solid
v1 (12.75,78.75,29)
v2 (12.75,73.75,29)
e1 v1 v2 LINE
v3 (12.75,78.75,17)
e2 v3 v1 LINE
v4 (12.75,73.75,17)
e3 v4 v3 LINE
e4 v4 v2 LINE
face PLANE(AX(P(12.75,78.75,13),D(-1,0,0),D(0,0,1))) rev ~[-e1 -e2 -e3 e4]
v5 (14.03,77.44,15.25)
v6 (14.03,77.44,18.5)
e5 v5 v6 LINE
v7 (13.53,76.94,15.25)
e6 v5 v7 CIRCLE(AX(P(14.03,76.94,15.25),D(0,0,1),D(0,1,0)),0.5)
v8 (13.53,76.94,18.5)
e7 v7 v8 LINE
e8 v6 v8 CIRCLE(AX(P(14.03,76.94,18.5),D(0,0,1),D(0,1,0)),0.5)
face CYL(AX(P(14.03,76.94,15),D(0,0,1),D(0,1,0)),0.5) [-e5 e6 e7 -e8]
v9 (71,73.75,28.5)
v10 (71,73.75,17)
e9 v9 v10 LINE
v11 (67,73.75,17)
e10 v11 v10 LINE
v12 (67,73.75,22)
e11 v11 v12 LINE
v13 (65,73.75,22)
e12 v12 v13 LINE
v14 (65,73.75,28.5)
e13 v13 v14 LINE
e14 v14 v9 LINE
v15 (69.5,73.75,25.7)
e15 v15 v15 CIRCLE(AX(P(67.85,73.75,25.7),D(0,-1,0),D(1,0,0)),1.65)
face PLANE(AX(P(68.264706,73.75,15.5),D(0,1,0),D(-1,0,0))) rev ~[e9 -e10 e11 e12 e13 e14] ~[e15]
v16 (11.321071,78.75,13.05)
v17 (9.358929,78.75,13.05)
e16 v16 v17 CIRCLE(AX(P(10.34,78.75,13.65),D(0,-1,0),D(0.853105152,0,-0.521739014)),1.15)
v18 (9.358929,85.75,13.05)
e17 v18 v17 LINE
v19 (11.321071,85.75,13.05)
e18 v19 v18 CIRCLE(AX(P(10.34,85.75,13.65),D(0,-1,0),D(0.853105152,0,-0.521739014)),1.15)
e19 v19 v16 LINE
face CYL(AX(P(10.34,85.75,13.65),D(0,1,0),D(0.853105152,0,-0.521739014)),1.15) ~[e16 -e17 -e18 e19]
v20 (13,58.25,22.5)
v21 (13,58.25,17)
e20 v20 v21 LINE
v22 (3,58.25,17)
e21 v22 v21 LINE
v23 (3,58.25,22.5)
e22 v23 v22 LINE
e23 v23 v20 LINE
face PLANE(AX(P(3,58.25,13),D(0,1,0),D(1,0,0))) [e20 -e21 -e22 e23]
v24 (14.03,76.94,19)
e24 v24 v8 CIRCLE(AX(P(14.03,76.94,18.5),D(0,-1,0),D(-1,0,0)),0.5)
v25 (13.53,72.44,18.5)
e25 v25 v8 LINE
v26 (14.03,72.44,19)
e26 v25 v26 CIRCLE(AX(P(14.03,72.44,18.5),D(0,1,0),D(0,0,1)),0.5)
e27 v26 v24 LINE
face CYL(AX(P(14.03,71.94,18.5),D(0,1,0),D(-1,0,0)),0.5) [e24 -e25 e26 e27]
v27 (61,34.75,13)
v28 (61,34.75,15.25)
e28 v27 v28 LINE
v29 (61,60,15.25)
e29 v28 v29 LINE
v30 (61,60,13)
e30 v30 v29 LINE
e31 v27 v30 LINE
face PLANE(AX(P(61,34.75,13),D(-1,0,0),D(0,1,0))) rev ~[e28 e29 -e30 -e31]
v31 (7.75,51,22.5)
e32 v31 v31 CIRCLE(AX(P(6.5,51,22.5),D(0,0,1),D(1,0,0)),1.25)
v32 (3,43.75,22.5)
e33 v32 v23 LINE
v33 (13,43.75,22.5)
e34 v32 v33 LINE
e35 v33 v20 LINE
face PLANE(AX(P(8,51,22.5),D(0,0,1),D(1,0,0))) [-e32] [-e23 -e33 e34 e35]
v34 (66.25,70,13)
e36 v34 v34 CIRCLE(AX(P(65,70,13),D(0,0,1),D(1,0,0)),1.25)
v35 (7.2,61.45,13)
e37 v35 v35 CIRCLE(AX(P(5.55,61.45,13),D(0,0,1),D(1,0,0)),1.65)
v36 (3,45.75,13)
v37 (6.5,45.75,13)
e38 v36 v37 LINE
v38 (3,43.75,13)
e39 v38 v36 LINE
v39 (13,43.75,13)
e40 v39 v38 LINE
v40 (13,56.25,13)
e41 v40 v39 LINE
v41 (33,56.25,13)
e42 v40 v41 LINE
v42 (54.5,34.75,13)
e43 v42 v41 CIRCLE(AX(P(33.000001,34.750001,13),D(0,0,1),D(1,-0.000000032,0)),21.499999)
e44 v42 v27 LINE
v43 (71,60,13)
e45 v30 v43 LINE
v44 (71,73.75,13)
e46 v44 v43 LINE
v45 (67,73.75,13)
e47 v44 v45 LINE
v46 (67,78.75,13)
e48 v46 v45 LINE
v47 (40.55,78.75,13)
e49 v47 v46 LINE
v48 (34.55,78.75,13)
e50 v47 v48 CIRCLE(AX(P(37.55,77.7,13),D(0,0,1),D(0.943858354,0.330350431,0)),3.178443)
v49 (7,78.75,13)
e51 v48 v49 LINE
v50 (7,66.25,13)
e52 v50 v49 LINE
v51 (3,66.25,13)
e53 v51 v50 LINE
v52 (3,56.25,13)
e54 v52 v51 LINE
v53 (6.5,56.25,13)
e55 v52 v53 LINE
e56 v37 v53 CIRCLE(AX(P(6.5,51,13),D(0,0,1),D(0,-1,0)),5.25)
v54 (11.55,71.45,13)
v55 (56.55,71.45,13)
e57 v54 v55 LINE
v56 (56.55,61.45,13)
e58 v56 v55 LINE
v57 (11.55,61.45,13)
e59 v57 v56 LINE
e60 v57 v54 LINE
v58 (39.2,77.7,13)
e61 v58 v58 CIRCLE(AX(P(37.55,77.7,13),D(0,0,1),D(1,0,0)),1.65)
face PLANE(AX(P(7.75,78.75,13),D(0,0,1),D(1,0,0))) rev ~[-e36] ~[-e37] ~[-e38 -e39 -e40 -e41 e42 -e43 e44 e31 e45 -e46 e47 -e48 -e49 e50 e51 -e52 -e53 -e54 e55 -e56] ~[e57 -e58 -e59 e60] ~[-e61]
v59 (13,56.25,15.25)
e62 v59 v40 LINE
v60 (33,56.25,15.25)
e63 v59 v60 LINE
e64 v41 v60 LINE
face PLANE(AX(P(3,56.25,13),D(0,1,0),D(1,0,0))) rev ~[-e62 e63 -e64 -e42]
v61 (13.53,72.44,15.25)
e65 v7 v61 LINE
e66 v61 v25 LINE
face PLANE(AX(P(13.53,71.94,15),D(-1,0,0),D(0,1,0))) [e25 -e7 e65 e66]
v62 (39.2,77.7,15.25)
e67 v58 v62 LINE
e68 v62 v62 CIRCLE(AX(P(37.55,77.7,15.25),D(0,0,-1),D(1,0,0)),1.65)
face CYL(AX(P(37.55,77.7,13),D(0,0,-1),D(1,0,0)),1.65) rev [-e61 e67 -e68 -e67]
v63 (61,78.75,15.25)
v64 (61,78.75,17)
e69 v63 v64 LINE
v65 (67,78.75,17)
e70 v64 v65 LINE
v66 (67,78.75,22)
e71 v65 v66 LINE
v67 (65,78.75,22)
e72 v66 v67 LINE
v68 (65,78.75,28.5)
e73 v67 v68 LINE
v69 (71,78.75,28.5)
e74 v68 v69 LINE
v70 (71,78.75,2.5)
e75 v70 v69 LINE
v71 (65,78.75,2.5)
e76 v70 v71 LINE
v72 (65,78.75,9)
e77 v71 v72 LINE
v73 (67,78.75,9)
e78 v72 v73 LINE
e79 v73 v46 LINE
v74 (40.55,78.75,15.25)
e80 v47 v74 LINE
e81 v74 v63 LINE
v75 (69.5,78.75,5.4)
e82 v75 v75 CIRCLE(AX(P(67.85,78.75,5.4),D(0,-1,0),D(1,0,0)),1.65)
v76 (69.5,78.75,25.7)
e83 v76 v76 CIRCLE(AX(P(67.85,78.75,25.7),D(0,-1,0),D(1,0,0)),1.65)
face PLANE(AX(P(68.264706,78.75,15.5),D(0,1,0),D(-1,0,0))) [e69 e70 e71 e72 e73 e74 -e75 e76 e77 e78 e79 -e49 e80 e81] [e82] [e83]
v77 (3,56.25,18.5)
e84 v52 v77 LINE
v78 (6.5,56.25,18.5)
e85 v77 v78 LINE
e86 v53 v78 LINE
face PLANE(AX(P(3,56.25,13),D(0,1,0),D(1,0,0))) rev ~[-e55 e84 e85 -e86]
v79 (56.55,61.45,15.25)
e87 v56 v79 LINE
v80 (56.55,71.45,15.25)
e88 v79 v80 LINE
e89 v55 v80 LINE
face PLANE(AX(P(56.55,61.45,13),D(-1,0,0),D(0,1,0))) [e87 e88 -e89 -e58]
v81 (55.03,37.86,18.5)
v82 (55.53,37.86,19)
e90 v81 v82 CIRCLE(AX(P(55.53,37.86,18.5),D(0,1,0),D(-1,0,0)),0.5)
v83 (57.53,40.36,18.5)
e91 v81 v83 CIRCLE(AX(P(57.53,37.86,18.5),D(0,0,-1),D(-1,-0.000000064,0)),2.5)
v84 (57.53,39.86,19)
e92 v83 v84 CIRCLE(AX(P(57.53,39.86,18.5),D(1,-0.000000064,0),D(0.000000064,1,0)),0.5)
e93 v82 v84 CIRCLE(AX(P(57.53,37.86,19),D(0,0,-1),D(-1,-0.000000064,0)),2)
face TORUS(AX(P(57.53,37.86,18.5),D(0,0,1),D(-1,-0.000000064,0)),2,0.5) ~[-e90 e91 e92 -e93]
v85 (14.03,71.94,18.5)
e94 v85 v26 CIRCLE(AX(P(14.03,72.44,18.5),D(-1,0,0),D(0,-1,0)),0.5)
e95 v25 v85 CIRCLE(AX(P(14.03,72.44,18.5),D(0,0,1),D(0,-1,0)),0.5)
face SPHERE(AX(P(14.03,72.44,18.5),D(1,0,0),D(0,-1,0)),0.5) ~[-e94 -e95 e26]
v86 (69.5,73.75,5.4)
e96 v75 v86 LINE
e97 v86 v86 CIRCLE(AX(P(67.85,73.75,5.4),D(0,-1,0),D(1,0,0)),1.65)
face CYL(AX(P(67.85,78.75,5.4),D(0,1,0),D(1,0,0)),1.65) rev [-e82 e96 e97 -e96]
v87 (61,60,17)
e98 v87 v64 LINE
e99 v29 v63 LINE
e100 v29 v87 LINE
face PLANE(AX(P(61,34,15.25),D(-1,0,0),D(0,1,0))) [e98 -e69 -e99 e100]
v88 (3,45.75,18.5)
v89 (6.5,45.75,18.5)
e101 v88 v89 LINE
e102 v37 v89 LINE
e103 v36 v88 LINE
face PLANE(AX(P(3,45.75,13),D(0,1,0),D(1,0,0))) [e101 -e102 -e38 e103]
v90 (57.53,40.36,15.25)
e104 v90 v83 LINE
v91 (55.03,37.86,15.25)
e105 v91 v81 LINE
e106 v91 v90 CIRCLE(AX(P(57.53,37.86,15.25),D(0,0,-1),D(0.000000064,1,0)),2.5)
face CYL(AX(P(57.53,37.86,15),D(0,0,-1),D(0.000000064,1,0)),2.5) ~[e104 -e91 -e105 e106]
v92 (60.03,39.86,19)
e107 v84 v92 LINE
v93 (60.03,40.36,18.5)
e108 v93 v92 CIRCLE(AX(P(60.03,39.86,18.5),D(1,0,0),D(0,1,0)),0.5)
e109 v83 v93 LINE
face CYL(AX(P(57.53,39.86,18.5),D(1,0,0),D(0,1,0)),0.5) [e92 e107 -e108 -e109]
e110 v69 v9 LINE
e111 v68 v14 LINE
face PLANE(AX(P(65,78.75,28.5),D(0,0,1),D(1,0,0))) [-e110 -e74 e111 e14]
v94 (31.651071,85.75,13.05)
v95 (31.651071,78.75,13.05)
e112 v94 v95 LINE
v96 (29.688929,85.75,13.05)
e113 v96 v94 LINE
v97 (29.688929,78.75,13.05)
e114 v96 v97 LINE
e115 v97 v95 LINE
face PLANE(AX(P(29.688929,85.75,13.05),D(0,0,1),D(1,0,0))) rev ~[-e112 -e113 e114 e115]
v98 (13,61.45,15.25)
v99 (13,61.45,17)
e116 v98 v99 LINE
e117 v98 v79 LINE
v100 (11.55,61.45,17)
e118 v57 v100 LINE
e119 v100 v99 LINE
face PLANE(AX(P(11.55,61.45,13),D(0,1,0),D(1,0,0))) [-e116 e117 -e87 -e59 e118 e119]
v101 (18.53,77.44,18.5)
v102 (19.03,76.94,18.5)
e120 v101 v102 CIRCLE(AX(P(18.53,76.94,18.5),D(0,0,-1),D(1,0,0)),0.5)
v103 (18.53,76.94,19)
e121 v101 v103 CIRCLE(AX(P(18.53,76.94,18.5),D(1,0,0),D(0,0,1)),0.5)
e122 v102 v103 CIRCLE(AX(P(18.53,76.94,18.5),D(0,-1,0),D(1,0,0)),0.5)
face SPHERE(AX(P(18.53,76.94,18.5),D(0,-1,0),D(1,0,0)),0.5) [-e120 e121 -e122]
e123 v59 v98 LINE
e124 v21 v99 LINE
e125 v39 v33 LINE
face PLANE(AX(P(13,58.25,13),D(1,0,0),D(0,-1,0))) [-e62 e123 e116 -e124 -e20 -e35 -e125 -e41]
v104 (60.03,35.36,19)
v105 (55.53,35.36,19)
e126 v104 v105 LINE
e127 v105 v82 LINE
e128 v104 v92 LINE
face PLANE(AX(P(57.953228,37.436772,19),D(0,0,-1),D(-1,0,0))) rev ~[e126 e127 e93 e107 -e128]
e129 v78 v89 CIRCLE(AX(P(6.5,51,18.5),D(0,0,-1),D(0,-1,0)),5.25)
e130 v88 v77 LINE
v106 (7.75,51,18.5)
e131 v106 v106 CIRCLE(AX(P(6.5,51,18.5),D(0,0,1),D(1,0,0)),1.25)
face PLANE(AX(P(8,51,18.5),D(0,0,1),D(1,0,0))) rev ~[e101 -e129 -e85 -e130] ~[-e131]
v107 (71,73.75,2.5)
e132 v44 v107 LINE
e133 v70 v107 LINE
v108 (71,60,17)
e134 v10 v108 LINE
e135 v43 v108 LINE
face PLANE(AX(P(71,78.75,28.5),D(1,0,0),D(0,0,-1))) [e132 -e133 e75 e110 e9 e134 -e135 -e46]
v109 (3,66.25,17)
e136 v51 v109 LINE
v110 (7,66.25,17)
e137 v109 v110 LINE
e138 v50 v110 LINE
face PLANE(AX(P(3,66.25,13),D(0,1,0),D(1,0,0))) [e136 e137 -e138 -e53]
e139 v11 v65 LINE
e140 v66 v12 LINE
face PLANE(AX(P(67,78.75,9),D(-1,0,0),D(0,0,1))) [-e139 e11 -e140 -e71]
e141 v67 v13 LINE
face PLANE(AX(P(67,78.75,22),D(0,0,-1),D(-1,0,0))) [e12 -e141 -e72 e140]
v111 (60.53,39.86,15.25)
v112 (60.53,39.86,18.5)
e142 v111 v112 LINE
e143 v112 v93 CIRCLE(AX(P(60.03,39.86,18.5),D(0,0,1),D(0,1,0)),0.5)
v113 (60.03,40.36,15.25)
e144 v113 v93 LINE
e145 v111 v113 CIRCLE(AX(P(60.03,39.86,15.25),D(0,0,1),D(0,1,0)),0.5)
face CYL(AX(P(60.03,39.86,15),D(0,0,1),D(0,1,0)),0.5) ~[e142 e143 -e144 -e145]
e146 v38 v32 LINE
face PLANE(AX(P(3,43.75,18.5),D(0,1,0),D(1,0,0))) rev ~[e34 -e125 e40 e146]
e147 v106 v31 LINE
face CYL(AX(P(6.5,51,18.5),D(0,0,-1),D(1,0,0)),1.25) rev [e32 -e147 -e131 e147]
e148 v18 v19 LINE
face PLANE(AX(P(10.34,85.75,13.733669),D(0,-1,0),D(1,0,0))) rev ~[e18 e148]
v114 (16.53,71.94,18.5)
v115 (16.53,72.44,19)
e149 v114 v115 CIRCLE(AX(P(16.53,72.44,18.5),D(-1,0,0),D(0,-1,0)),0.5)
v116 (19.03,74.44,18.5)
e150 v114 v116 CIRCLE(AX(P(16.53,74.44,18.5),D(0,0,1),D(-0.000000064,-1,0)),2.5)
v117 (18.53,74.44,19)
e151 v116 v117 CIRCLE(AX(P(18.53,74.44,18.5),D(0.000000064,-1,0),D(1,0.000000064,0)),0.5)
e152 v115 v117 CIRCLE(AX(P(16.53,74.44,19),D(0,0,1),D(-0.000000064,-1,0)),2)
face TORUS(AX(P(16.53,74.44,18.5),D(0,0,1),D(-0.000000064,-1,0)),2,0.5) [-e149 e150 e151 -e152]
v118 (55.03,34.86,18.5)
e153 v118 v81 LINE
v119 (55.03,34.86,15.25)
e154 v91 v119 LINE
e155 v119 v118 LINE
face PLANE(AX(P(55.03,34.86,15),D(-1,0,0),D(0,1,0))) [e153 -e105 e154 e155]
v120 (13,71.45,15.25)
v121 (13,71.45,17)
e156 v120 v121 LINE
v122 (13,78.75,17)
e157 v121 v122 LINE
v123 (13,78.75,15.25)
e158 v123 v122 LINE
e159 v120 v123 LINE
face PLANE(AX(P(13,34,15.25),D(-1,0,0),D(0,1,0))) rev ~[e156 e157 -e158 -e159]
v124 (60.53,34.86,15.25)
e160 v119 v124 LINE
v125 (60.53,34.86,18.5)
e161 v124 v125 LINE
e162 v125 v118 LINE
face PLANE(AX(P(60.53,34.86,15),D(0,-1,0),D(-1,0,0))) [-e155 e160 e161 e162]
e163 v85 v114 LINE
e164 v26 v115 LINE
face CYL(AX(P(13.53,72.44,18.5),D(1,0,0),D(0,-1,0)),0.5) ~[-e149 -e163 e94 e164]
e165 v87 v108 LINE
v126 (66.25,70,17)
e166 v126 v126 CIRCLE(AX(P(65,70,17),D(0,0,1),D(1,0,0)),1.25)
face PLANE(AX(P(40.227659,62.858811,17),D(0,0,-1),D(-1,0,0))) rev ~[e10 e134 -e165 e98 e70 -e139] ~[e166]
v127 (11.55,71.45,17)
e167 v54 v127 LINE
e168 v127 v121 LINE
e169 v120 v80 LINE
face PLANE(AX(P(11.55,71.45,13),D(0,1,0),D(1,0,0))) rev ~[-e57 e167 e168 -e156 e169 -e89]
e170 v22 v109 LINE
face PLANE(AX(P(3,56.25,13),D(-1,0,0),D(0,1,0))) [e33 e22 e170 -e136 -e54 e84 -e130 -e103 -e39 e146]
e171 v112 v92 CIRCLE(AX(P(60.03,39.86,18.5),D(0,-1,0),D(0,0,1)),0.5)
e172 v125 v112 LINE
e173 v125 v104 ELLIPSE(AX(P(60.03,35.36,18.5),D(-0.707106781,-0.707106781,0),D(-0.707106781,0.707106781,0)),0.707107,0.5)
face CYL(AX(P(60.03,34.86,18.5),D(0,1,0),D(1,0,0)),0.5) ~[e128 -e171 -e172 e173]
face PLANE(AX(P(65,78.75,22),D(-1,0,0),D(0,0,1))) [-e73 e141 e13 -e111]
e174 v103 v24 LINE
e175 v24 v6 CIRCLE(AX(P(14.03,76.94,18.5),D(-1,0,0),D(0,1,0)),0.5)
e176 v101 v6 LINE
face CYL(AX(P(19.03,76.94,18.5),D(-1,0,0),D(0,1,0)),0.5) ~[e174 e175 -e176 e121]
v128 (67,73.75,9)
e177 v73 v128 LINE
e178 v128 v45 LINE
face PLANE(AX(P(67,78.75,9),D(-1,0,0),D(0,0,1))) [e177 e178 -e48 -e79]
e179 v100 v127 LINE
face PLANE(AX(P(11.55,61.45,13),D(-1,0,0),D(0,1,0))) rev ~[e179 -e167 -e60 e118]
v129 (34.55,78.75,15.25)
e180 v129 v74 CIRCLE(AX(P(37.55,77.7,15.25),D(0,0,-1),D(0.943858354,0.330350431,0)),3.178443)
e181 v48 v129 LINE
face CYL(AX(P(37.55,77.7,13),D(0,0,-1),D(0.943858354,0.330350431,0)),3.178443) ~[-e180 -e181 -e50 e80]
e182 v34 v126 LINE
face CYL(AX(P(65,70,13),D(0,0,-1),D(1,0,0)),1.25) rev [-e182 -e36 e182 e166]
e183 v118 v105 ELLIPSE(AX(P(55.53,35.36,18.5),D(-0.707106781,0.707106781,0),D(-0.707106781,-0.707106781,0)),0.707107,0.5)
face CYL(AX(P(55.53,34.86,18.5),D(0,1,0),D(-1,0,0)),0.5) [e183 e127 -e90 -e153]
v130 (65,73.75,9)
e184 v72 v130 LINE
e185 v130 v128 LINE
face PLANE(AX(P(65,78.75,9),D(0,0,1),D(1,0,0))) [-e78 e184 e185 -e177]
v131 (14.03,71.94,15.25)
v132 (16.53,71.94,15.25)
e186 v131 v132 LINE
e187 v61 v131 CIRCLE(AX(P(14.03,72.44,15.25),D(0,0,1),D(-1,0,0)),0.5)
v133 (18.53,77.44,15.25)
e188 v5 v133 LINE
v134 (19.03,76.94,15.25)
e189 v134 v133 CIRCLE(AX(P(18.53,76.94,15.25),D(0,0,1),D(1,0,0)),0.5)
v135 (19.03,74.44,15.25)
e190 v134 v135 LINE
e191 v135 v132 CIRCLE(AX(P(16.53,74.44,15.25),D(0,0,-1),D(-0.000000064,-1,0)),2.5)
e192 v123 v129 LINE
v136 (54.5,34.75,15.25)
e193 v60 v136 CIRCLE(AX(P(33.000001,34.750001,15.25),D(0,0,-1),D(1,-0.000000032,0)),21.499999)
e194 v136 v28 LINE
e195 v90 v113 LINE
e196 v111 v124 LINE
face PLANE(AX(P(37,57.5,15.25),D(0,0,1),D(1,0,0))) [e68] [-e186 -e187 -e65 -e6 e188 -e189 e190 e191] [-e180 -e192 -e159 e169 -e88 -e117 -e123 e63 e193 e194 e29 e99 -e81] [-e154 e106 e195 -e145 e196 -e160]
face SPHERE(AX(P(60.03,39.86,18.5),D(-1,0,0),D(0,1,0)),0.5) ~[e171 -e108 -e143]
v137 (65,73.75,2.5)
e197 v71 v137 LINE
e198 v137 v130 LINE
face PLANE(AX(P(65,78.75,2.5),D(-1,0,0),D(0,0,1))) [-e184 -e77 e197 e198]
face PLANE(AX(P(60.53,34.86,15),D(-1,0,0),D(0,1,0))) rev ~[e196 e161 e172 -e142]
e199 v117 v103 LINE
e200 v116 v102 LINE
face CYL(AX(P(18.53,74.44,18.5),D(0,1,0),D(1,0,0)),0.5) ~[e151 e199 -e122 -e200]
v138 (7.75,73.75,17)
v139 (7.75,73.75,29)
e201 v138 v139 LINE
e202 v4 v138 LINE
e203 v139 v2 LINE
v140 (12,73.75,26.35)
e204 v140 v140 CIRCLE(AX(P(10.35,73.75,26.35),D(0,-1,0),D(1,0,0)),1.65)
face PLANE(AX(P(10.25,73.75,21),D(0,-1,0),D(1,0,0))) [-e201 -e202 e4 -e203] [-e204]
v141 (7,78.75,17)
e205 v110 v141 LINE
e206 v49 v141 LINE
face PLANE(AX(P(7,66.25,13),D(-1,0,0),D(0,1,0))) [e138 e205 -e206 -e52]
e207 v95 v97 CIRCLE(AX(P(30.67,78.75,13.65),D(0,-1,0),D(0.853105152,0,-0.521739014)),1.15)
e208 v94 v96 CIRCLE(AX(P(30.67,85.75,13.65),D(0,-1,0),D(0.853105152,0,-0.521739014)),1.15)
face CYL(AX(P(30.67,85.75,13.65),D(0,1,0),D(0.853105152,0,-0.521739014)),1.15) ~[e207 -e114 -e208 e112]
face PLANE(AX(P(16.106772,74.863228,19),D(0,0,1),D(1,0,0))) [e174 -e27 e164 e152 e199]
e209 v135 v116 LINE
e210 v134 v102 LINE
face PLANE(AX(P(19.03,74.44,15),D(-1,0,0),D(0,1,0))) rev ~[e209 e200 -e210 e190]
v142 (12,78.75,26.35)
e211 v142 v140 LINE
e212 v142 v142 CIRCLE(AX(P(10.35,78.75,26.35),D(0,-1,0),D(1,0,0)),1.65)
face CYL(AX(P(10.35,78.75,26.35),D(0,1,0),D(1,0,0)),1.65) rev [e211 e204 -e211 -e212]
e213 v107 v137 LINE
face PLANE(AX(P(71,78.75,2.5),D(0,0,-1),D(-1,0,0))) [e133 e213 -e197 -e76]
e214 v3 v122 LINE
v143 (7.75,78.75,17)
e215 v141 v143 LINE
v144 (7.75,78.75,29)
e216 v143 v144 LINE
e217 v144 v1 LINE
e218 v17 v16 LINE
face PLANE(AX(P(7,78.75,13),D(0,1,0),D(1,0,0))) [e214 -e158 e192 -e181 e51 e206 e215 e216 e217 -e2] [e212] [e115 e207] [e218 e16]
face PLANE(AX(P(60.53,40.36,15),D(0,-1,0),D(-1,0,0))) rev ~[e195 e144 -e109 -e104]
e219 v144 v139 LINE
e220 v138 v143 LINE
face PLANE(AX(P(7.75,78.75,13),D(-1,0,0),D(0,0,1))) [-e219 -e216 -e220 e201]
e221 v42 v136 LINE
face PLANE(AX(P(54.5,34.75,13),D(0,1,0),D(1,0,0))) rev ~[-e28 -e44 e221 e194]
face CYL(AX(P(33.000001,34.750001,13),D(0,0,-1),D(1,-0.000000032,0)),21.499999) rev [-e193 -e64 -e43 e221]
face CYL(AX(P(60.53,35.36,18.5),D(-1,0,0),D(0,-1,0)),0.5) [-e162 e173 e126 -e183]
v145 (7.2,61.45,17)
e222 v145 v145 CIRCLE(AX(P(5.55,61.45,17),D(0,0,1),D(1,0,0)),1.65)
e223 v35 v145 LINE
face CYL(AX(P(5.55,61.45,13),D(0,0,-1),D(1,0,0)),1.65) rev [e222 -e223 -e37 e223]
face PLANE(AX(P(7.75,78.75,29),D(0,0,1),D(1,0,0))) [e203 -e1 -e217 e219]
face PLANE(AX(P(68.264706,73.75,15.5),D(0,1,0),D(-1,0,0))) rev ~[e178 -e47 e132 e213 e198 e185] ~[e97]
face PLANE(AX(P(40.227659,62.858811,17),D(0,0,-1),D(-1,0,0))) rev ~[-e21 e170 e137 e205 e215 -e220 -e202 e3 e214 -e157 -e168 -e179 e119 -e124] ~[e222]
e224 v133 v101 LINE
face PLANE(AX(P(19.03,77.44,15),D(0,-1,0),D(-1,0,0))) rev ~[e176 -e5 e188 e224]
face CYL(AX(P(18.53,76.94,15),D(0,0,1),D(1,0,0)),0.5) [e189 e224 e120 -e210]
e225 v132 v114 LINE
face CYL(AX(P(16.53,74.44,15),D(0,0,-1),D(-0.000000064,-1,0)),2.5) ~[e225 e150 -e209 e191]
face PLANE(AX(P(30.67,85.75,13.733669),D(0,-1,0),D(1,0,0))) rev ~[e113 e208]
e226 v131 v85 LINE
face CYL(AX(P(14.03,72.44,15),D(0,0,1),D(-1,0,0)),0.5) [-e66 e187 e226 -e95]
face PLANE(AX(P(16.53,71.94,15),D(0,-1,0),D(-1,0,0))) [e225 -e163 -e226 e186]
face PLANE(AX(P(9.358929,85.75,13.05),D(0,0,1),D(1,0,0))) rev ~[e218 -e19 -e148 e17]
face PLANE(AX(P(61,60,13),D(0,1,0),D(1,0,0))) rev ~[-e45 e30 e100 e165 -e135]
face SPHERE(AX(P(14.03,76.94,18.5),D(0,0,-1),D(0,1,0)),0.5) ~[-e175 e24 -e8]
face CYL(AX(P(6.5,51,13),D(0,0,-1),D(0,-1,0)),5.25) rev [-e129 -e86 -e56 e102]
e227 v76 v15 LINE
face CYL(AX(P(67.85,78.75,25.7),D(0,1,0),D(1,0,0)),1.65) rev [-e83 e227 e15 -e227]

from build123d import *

# Parameters (mm, degrees)
SKETCH021_R      = 1.65
EXTRUDE021_DEPTH = 5
EXTRUDE001_DEPTH = 4
FILLET003_R      = 0.5
BOX005_W         = 48
BOX005_H         = 47
BOX005_DEPTH     = 10
EXTRUDE037_DEPTH = 6
SKETCH038_W      = 10
SKETCH038_H      = 14.5
SKETCH038_R      = 1.25
EXTRUDE038_DEPTH = 4
SKETCH039_W      = 5
SKETCH039_H      = 16
SKETCH039_R      = 1.65
EXTRUDE039_DEPTH = 5
EXTRUDE040_DEPTH = 7
SKETCH020_R      = 1.65
SKETCH020_R_2    = 1.25
SKETCH020_W      = 45
SKETCH020_H      = 10
EXTRUDE036_DEPTH = 4


with BuildPart() as gpshold:
    # Sketch021 → Extrude021 (new body)
    with BuildSketch(Plane.XZ):
        Polygon((65, 28.5), (71, 28.5), (71, 2.5), (65, 2.5), (65, 9), (67, 9), (67, 22), (65, 22), align=None)
        with Locations((67.85, 25.7)):
            Circle(SKETCH021_R, mode=Mode.SUBTRACT)
        with Locations((67.85, 5.4)):
            Circle(SKETCH021_R, mode=Mode.SUBTRACT)
    extrude(amount=EXTRUDE021_DEPTH)


with BuildPart() as gpshold_1:
    # Extrude021 placement: moved
    add(gpshold.part.moved(Location((0, 78.75, 0))))


with BuildPart() as ipsholdbottomindone:
    # Sketch001 → Extrude001 (new body)
    with BuildSketch(Plane.XY):
        with BuildLine():
            Line((19.03, 74.44), (19.03, 77.44))
            Line((19.03, 77.44), (13.53, 77.44))
            Line((13.53, 71.94), (13.53, 77.44))
            Line((16.53, 71.94), (13.53, 71.94))
            ThreePointArc((16.53, 71.94), (18.297767, 72.672233), (19.03, 74.44))
        make_face()
        with BuildLine():
            Line((60.53, 34.86), (55.03, 34.86))
            Line((55.03, 34.86), (55.03, 37.86))
            ThreePointArc((57.53, 40.36), (55.762233, 39.627767), (55.03, 37.86))
            Line((60.53, 40.36), (57.53, 40.36))
            Line((60.53, 34.86), (60.53, 40.36))
        make_face()
    extrude(amount=EXTRUDE001_DEPTH)


with BuildPart() as ipsholdbottomindone_1:
    # Extrude001 placement: moved
    add(ipsholdbottomindone.part.moved(Location((0, 0, 2))))

    # Fillet003
    fillet003_edges = [ipsholdbottomindone_1.edges().sort_by_distance(p)[0] for p in [
        (57.78, 34.86, 6),
        (55.03, 36.36, 6),
        (55.762233, 39.627767, 6),
        (60.53, 40.36, 4),
        (59.03, 40.36, 6),
        (60.53, 37.61, 6),
        (18.297767, 72.672233, 6),
        (19.03, 77.44, 4),
        (19.03, 75.94, 6),
        (13.53, 77.44, 4),
        (16.28, 77.44, 6),
        (13.53, 71.94, 4),
        (13.53, 74.69, 6),
        (15.03, 71.94, 6),
    ]]
    fillet(fillet003_edges, radius=FILLET003_R)


with BuildPart() as ipsholdbottomindone_2:
    # Fillet003 placement: moved
    add(ipsholdbottomindone_1.part.moved(Location((0, 0, 13))))


with BuildPart() as sensorholdipscut:
    # Box005 → Box005 (new body)
    with BuildSketch(Plane(origin=(13, 34, 15.25), x_dir=(1, 0, 0), z_dir=(0, 0, 1))):
        with Locations((24, 23.5)):
            Rectangle(BOX005_W, BOX005_H)
    extrude(amount=BOX005_DEPTH)


with BuildPart() as sensorholdaddon:
    # Sketch037 → Extrude037 (new body)
    with BuildSketch(Plane.XY.offset(17)):
        with BuildLine():
            Line((3, 58.25), (13, 58.25))
            Line((13, 58.25), (13, 43.75))
            Line((13, 43.75), (3, 43.75))
            Line((3, 43.75), (3, 45.75))
            Line((3, 45.75), (6.5, 45.75))
            ThreePointArc((6.5, 45.75), (11.75, 51), (6.5, 56.25))
            Line((3, 56.25), (6.5, 56.25))
            Line((3, 58.25), (3, 56.25))
        make_face()
    extrude(amount=EXTRUDE037_DEPTH)


with BuildPart() as sensorholdaddon_1:
    # Extrude037 placement: moved
    add(sensorholdaddon.part.moved(Location((0, 0, -4))))


with BuildPart() as sensorholdaddon001:
    # Sketch038 → Extrude038 (new body)
    with BuildSketch(Plane.XY.offset(17)):
        with Locations((8, 51)):
            Rectangle(SKETCH038_W, SKETCH038_H)
        with Locations((6.5, 51)):
            Circle(SKETCH038_R, mode=Mode.SUBTRACT)
    extrude(amount=EXTRUDE038_DEPTH)


with BuildPart() as sensorholdaddon001_1:
    # Extrude038 placement: moved
    add(sensorholdaddon001.part.moved(Location((0, 0, 1.5))))


with BuildPart() as bmehold:
    # Sketch039 → Extrude039 (new body)
    with BuildSketch(Plane.XZ.offset(-78.75)):
        with Locations((10.25, 21)):
            Rectangle(SKETCH039_W, SKETCH039_H)
        with Locations((10.35, 26.35)):
            Circle(SKETCH039_R, mode=Mode.SUBTRACT)
    extrude(amount=EXTRUDE039_DEPTH)


with BuildPart() as bmehold001:
    # Sketch040 → Extrude040 (new body)
    with BuildSketch(Plane.XZ.offset(-78.75)):
        with BuildLine():
            ThreePointArc((11.321071, 13.05), (10.34, 14.8), (9.358929, 13.05))
            Line((9.358929, 13.05), (11.321071, 13.05))
        make_face()
        with BuildLine():
            ThreePointArc((31.651071, 13.05), (30.67, 14.8), (29.688929, 13.05))
            Line((29.688929, 13.05), (31.651071, 13.05))
        make_face()
    extrude(amount=EXTRUDE040_DEPTH)


with BuildPart() as bmehold001_1:
    # Extrude040 placement: moved
    add(bmehold001.part.moved(Location((0, 7, 0))))


with BuildPart() as sensorhold005:
    # Sketch020 → Extrude036 (new body)
    with BuildSketch(Plane.XY):
        with BuildLine():
            Line((71, 78.75), (71, 60))
            Line((61, 60), (71, 60))
            Line((61, 34.75), (61, 60))
            Line((61, 34.75), (61, 60))
            Line((61, 34.75), (61, 60))
            Line((54.5, 34.75), (61, 34.75))
            ThreePointArc((54.5, 34.75), (48.202796, 49.952796), (33, 56.25))
            Line((3, 56.25), (33, 56.25))
            Line((3, 56.25), (3, 66.25))
            Line((3, 66.25), (7, 66.25))
            Line((7, 66.25), (7, 78.75))
            Line((7, 78.75), (34.55, 78.75))
            ThreePointArc((40.55, 78.75), (37.55, 80.878443), (34.55, 78.75))
            Line((40.55, 78.75), (71, 78.75))
        make_face()
        with Locations((5.55, 61.45)):
            Circle(SKETCH020_R, mode=Mode.SUBTRACT)
        with Locations((37.55, 77.7)):
            Circle(SKETCH020_R, mode=Mode.SUBTRACT)
        with Locations((65, 70)):
            Circle(SKETCH020_R_2, mode=Mode.SUBTRACT)
        with Locations((34.05, 66.45)):
            Rectangle(SKETCH020_W, SKETCH020_H, mode=Mode.SUBTRACT)
    extrude(amount=EXTRUDE036_DEPTH)


with BuildPart() as sensorhold005_1:
    # Extrude036 placement: moved
    add(sensorhold005.part.moved(Location((0, 0, 13))))

    # Fusion034: union sensorHoldAddon, sensorHoldAddon001, bmeHold, bmeHold001
    add(sensorholdaddon_1.part)
    add(sensorholdaddon001_1.part)
    add(bmehold.part)
    add(bmehold001_1.part)

    # Cut016: cut sensorHoldIPSCut
    add(sensorholdipscut.part, mode=Mode.SUBTRACT)

    # Fusion035: union ipsHoldBottomInDone
    add(ipsholdbottomindone_2.part)

    # Fusion036: union gpsHold
    add(gpshold_1.part)


solid = sensorhold005_1.part
